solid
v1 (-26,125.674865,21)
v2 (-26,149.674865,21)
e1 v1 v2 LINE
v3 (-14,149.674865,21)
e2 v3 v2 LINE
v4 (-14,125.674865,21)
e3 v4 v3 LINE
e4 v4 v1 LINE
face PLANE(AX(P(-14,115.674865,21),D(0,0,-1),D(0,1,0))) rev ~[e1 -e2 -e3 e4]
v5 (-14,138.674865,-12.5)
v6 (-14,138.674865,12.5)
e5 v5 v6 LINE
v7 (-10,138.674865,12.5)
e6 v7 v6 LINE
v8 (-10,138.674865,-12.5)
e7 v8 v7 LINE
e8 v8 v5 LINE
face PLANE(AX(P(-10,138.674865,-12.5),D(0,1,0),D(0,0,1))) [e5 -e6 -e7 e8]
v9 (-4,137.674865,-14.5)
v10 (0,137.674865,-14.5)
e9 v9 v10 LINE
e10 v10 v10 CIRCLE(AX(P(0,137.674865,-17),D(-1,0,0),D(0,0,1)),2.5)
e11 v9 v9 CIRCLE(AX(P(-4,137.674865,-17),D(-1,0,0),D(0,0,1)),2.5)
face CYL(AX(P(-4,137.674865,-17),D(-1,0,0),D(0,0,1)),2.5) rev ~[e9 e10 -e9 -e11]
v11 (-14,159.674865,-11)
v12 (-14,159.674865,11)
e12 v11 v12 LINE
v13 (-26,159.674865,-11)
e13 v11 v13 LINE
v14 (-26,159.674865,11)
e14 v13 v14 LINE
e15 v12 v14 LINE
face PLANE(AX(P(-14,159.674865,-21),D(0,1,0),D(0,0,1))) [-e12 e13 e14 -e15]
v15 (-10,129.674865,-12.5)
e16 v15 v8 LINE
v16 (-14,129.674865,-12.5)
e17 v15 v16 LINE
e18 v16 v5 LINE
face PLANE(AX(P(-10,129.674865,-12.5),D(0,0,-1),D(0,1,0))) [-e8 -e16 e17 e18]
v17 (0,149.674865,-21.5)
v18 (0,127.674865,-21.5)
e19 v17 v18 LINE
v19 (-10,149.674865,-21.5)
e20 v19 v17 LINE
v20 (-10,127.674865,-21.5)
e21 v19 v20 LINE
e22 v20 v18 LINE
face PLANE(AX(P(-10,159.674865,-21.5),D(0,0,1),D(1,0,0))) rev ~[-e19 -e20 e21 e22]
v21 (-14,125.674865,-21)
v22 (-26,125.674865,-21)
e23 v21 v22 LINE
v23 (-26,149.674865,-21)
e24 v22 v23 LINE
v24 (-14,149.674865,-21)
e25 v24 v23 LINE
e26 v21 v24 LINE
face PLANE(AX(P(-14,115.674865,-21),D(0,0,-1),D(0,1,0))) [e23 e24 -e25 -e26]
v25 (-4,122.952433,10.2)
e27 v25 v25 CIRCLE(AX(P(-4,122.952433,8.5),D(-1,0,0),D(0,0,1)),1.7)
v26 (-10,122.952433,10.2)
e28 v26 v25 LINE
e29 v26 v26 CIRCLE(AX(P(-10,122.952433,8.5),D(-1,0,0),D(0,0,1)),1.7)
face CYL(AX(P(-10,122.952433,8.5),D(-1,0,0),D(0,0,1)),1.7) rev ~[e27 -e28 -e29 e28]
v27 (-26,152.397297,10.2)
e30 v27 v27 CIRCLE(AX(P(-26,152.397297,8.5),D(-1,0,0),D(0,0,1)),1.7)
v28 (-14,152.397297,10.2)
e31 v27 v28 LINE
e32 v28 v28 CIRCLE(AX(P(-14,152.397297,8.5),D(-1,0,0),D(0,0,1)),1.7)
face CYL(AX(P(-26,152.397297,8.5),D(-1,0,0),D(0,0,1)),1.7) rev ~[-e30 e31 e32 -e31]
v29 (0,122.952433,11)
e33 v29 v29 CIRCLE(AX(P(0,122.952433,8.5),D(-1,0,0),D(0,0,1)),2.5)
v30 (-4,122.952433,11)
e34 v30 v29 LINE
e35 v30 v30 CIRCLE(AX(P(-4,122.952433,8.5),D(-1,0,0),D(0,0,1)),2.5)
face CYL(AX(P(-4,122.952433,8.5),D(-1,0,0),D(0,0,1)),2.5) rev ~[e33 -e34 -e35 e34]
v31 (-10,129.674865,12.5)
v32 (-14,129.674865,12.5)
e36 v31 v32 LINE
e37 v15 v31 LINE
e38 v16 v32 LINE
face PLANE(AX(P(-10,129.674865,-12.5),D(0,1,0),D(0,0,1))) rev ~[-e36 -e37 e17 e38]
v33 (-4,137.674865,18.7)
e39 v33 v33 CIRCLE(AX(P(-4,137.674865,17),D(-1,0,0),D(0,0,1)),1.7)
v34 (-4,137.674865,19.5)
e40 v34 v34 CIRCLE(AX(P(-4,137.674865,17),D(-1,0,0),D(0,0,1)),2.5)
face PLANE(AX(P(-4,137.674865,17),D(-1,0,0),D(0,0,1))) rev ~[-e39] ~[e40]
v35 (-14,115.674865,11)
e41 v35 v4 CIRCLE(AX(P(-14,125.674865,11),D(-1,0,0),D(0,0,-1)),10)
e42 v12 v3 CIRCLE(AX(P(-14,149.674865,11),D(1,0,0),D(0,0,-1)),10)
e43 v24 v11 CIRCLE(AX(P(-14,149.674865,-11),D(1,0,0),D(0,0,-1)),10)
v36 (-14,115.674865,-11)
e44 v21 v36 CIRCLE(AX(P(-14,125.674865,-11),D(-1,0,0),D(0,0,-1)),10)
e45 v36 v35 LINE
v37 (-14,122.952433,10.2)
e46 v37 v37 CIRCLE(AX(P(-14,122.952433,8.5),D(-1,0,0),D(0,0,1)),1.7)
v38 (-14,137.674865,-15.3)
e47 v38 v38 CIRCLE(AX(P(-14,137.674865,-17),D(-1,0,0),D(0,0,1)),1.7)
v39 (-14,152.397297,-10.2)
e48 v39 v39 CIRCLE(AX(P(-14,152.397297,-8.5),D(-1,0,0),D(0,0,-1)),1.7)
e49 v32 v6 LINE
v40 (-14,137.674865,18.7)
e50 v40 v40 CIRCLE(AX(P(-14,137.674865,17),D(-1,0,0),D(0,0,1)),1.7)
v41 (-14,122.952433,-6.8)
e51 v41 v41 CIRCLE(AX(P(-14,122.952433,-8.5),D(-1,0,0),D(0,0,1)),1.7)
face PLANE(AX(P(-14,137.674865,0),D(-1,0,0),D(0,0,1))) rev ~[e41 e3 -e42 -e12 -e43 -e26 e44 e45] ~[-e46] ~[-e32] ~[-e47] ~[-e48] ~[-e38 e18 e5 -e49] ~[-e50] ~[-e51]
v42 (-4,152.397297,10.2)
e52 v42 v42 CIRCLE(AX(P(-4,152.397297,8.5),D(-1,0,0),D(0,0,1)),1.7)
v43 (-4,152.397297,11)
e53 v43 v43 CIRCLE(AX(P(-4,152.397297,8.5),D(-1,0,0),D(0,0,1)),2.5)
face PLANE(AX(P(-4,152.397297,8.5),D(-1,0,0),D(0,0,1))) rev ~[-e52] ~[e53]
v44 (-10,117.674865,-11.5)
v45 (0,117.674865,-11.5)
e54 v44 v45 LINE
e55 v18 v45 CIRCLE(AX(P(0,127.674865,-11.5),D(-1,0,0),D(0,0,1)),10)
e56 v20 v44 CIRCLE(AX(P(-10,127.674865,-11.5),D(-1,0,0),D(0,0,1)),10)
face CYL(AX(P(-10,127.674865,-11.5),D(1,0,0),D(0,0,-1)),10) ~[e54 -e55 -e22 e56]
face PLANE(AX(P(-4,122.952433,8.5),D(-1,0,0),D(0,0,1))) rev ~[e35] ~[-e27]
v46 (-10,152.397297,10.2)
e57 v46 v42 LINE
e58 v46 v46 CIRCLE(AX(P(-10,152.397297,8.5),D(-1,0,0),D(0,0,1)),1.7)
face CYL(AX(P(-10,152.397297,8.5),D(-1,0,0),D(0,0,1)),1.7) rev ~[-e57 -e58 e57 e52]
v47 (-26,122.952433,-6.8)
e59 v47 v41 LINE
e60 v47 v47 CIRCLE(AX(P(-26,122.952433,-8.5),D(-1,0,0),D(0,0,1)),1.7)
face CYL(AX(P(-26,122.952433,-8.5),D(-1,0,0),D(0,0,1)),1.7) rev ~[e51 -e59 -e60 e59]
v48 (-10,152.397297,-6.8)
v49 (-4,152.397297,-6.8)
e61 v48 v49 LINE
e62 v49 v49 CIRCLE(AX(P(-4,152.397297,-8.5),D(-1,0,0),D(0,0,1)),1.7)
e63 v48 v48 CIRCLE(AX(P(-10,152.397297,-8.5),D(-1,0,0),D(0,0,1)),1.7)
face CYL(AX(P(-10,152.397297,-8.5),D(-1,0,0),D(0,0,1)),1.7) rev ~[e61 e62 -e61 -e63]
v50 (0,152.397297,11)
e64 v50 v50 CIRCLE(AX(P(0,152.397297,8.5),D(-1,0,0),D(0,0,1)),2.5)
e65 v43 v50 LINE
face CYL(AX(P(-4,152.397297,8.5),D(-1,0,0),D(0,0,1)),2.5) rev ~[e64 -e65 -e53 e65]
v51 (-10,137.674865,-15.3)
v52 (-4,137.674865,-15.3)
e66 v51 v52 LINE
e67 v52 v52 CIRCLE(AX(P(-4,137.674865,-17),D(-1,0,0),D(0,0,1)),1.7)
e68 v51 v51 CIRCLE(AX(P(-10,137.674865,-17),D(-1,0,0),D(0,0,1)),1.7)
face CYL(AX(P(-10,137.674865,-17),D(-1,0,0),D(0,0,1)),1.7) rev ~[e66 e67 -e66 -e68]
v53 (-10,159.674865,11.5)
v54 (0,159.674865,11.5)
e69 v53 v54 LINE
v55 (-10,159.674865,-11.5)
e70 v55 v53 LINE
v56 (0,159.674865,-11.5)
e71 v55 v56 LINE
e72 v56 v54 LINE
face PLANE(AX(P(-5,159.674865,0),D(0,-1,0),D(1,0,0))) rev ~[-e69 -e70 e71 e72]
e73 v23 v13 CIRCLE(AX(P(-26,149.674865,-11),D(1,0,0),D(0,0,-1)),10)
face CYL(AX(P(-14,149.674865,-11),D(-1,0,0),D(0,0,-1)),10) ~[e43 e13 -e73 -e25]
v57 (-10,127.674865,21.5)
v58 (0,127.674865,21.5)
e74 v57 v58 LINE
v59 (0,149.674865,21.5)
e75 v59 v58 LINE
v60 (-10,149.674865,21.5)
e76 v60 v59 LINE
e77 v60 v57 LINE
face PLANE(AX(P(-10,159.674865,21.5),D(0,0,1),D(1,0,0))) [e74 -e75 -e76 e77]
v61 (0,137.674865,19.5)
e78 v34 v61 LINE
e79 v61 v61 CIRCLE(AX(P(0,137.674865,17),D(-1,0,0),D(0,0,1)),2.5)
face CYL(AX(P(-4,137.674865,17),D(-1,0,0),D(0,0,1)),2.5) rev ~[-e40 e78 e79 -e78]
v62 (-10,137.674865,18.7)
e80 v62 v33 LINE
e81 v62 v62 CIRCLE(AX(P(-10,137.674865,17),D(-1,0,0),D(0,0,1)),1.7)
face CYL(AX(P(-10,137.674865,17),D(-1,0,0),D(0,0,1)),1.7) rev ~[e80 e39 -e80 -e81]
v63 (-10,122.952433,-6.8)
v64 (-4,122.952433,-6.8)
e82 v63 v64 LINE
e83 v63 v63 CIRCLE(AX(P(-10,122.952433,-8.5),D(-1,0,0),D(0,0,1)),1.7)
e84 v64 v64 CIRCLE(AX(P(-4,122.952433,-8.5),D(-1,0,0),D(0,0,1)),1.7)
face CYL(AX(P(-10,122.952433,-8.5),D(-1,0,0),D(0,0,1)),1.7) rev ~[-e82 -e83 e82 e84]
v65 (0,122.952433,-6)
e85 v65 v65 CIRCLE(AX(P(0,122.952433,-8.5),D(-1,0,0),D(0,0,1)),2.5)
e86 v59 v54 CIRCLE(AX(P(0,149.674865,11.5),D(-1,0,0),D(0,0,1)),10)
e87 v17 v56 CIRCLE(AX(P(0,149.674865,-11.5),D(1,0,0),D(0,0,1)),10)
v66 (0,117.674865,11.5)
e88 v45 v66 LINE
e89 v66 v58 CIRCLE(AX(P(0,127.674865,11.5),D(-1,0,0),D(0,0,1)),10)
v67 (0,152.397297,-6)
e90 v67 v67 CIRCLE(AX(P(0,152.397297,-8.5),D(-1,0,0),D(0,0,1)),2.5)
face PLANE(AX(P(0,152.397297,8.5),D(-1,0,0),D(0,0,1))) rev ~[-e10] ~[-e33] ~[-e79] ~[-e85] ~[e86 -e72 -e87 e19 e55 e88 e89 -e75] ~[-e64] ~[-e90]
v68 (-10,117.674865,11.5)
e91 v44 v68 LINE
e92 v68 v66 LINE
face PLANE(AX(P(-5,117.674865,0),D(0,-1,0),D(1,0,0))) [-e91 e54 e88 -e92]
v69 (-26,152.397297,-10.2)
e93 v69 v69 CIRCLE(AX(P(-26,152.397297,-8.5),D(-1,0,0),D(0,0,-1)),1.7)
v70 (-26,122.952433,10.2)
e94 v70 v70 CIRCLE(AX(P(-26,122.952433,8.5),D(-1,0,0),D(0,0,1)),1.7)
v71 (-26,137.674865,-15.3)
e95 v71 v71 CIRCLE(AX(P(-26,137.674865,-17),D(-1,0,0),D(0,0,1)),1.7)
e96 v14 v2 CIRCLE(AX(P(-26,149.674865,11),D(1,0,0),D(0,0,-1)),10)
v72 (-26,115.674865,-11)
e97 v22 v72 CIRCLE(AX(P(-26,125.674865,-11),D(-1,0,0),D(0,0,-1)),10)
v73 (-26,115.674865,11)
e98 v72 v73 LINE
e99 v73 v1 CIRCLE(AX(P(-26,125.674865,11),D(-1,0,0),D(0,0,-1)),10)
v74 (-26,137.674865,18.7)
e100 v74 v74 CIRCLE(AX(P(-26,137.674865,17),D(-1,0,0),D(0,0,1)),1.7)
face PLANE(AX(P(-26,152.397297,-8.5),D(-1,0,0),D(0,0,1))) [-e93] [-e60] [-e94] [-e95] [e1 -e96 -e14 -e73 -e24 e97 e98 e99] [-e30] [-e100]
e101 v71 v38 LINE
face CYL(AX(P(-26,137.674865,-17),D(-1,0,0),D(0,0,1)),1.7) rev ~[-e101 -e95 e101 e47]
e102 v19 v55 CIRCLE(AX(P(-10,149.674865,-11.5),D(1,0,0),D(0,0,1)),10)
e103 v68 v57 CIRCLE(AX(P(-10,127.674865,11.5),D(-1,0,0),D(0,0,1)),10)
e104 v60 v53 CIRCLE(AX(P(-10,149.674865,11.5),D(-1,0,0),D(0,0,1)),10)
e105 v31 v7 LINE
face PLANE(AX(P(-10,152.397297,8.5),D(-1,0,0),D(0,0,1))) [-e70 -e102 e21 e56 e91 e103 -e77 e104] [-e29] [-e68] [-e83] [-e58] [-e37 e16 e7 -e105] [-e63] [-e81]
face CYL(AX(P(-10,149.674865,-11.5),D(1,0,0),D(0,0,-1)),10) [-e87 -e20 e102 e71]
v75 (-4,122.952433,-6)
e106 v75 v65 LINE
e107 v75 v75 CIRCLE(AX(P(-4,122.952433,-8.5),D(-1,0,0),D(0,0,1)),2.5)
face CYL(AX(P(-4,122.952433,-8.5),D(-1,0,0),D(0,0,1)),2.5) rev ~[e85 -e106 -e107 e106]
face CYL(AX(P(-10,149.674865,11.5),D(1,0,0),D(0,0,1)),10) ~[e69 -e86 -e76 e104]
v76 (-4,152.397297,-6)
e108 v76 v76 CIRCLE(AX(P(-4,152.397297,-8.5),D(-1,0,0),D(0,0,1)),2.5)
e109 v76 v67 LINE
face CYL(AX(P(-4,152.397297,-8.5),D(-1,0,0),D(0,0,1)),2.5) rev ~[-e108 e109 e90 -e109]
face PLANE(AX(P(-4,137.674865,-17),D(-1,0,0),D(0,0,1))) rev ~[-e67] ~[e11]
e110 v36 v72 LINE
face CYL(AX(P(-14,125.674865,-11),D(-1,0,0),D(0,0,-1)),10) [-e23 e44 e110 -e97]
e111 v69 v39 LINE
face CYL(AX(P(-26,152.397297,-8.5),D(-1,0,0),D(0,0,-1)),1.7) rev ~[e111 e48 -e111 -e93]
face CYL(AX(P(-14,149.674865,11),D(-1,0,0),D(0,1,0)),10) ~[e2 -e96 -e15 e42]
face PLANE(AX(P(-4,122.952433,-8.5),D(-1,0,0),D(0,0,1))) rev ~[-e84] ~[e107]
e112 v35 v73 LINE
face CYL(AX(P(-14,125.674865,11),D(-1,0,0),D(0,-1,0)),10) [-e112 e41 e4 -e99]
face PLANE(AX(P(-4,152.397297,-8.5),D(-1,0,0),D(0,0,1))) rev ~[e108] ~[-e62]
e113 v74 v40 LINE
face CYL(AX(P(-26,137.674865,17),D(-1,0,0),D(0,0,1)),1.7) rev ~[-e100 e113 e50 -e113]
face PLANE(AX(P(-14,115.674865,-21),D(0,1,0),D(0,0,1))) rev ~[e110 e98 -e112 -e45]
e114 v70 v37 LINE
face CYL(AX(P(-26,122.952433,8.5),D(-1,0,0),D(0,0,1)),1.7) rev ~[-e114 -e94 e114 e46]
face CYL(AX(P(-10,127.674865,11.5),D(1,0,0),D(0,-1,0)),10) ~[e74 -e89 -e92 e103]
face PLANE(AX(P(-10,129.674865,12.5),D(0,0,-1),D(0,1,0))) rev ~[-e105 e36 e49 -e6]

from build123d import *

# Parameters (mm, degrees)
SKETCH2_W           = 10
SKETCH2_H           = 43
BOSS_EXTRUDE1_DEPTH = 42
SKETCH3_W           = 25
SKETCH3_H           = 9
BOSS_EXTRUDE2_DEPTH = 4
SKETCH5_W           = 42
SKETCH5_H           = 44
SKETCH5_R           = 3
BOSS_EXTRUDE3_DEPTH = 12
SKETCH5_3_R         = 3
SKETCH5_3_R_2       = 2.5
SKETCH5_3_R_3       = 1.7
CUT_EXTRUDE1_DEPTH  = 20
BOSS_EXTRUDE4_START = -4
SKETCH5_12_R        = 3
SKETCH5_12_R_2      = 2.5
SKETCH5_12_R_3      = 1.7
BOSS_EXTRUDE4_DEPTH = 6
BOSS_EXTRUDE5_START = -10
SKETCH5_13_R        = 3
SKETCH5_13_R_2      = 2.5
BOSS_EXTRUDE5_DEPTH = 4
BOSS_EXTRUDE6_START = 12
SKETCH5_15_R        = 3
SKETCH5_15_R_2      = 2.5
SKETCH5_15_R_3      = 1.7
BOSS_EXTRUDE6_DEPTH = 12
FILLET1_R           = 10


with BuildPart() as part:
    # Sketch2 → Boss-Extrude1 (new body)
    with BuildSketch(Plane.XZ.offset(-159.674864957)):
        with Locations((-5, 0)):
            Rectangle(SKETCH2_W, SKETCH2_H)
    extrude(amount=BOSS_EXTRUDE1_DEPTH)

    # Sketch3 → Boss-Extrude2 (add)
    with BuildSketch(Plane.ZY.offset(10)):
        with Locations((0, 134.174864957)):
            Rectangle(SKETCH3_W, SKETCH3_H)
    extrude(amount=BOSS_EXTRUDE2_DEPTH)

    # Sketch5<3> → Cut-Extrude1 (cut)
    # profile 1 of 18: a face of its own
    with BuildSketch(Plane.ZY.offset(14)):
        with Locations((-8.5, 152.397296821)):
            Circle(SKETCH5_3_R)
        with Locations((-8.5, 152.397296821)):
            Circle(SKETCH5_3_R_2, mode=Mode.SUBTRACT)
    # profile 2 of 18: a face of its own
    with BuildSketch(Plane.ZY.offset(14)):
        with Locations((-8.5, 152.397296821)):
            Circle(SKETCH5_3_R_2)
        with Locations((-8.5, 152.397296821)):
            Circle(SKETCH5_3_R_3, mode=Mode.SUBTRACT)
    # profile 3 of 18: a face of its own
    with BuildSketch(Plane.ZY.offset(14)):
        with Locations((-8.5, 152.397296821)):
            Circle(SKETCH5_3_R_3)
    # profile 4 of 18: a face of its own
    with BuildSketch(Plane.ZY.offset(14)):
        with Locations((8.5, 152.397296821)):
            Circle(SKETCH5_3_R)
        with Locations((8.5, 152.397296821)):
            Circle(SKETCH5_3_R_2, mode=Mode.SUBTRACT)
    # profile 5 of 18: a face of its own
    with BuildSketch(Plane.ZY.offset(14)):
        with Locations((8.5, 152.397296821)):
            Circle(SKETCH5_3_R_2)
        with Locations((8.5, 152.397296821)):
            Circle(SKETCH5_3_R_3, mode=Mode.SUBTRACT)
    # profile 6 of 18: a face of its own
    with BuildSketch(Plane.ZY.offset(14)):
        with Locations((8.5, 152.397296821)):
            Circle(SKETCH5_3_R_3)
    # profile 7 of 18: a face of its own
    with BuildSketch(Plane.ZY.offset(14)):
        with Locations((17, 137.674864957)):
            Circle(SKETCH5_3_R)
        with Locations((17, 137.674864957)):
            Circle(SKETCH5_3_R_2, mode=Mode.SUBTRACT)
    # profile 8 of 18: a face of its own
    with BuildSketch(Plane.ZY.offset(14)):
        with Locations((17, 137.674864957)):
            Circle(SKETCH5_3_R_2)
        with Locations((17, 137.674864957)):
            Circle(SKETCH5_3_R_3, mode=Mode.SUBTRACT)
    # profile 9 of 18: a face of its own
    with BuildSketch(Plane.ZY.offset(14)):
        with Locations((17, 137.674864957)):
            Circle(SKETCH5_3_R_3)
    # profile 10 of 18: a face of its own
    with BuildSketch(Plane.ZY.offset(14)):
        with Locations((-17, 137.674864957)):
            Circle(SKETCH5_3_R)
        with Locations((-17, 137.674864957)):
            Circle(SKETCH5_3_R_2, mode=Mode.SUBTRACT)
    # profile 11 of 18: a face of its own
    with BuildSketch(Plane.ZY.offset(14)):
        with Locations((-17, 137.674864957)):
            Circle(SKETCH5_3_R_2)
        with Locations((-17, 137.674864957)):
            Circle(SKETCH5_3_R_3, mode=Mode.SUBTRACT)
    # profile 12 of 18: a face of its own
    with BuildSketch(Plane.ZY.offset(14)):
        with Locations((-17, 137.674864957)):
            Circle(SKETCH5_3_R_3)
    # profile 13 of 18: a face of its own
    with BuildSketch(Plane.ZY.offset(14)):
        with Locations((-8.5, 122.952433093)):
            Circle(SKETCH5_3_R)
        with Locations((-8.5, 122.952433093)):
            Circle(SKETCH5_3_R_2, mode=Mode.SUBTRACT)
    # profile 14 of 18: a face of its own
    with BuildSketch(Plane.ZY.offset(14)):
        with Locations((-8.5, 122.952433093)):
            Circle(SKETCH5_3_R_2)
        with Locations((-8.5, 122.952433093)):
            Circle(SKETCH5_3_R_3, mode=Mode.SUBTRACT)
    # profile 15 of 18: a face of its own
    with BuildSketch(Plane.ZY.offset(14)):
        with Locations((-8.5, 122.952433093)):
            Circle(SKETCH5_3_R_3)
    # profile 16 of 18: a face of its own
    with BuildSketch(Plane.ZY.offset(14)):
        with Locations((8.5, 122.952433093)):
            Circle(SKETCH5_3_R)
        with Locations((8.5, 122.952433093)):
            Circle(SKETCH5_3_R_2, mode=Mode.SUBTRACT)
    # profile 17 of 18: a face of its own
    with BuildSketch(Plane.ZY.offset(14)):
        with Locations((8.5, 122.952433093)):
            Circle(SKETCH5_3_R_2)
        with Locations((8.5, 122.952433093)):
            Circle(SKETCH5_3_R_3, mode=Mode.SUBTRACT)
    # profile 18 of 18: a face of its own
    with BuildSketch(Plane.ZY.offset(14)):
        with Locations((8.5, 122.952433093)):
            Circle(SKETCH5_3_R_3)
    extrude(amount=-CUT_EXTRUDE1_DEPTH, mode=Mode.SUBTRACT)

    # Sketch5<12> → Boss-Extrude4 (add)
    # profile 1 of 12: a face of its own
    with BuildSketch(Plane.ZY.offset(14).offset(BOSS_EXTRUDE4_START)):
        with Locations((8.5, 152.397296821)):
            Circle(SKETCH5_12_R)
        with Locations((8.5, 152.397296821)):
            Circle(SKETCH5_12_R_2, mode=Mode.SUBTRACT)
    # profile 2 of 12: a face of its own
    with BuildSketch(Plane.ZY.offset(14).offset(BOSS_EXTRUDE4_START)):
        with Locations((-8.5, 152.397296821)):
            Circle(SKETCH5_12_R)
        with Locations((-8.5, 152.397296821)):
            Circle(SKETCH5_12_R_2, mode=Mode.SUBTRACT)
    # profile 3 of 12: a face of its own
    with BuildSketch(Plane.ZY.offset(14).offset(BOSS_EXTRUDE4_START)):
        with Locations((17, 137.674864957)):
            Circle(SKETCH5_12_R)
        with Locations((17, 137.674864957)):
            Circle(SKETCH5_12_R_2, mode=Mode.SUBTRACT)
    # profile 4 of 12: a face of its own
    with BuildSketch(Plane.ZY.offset(14).offset(BOSS_EXTRUDE4_START)):
        with Locations((8.5, 122.952433093)):
            Circle(SKETCH5_12_R)
        with Locations((8.5, 122.952433093)):
            Circle(SKETCH5_12_R_2, mode=Mode.SUBTRACT)
    # profile 5 of 12: a face of its own
    with BuildSketch(Plane.ZY.offset(14).offset(BOSS_EXTRUDE4_START)):
        with Locations((-8.5, 122.952433093)):
            Circle(SKETCH5_12_R)
        with Locations((-8.5, 122.952433093)):
            Circle(SKETCH5_12_R_2, mode=Mode.SUBTRACT)
    # profile 6 of 12: a face of its own
    with BuildSketch(Plane.ZY.offset(14).offset(BOSS_EXTRUDE4_START)):
        with Locations((-17, 137.674864957)):
            Circle(SKETCH5_12_R)
        with Locations((-17, 137.674864957)):
            Circle(SKETCH5_12_R_2, mode=Mode.SUBTRACT)
    # profile 7 of 12: a face of its own
    with BuildSketch(Plane.ZY.offset(14).offset(BOSS_EXTRUDE4_START)):
        with Locations((8.5, 152.397296821)):
            Circle(SKETCH5_12_R_2)
        with Locations((8.5, 152.397296821)):
            Circle(SKETCH5_12_R_3, mode=Mode.SUBTRACT)
    # profile 8 of 12: a face of its own
    with BuildSketch(Plane.ZY.offset(14).offset(BOSS_EXTRUDE4_START)):
        with Locations((17, 137.674864957)):
            Circle(SKETCH5_12_R_2)
        with Locations((17, 137.674864957)):
            Circle(SKETCH5_12_R_3, mode=Mode.SUBTRACT)
    # profile 9 of 12: a face of its own
    with BuildSketch(Plane.ZY.offset(14).offset(BOSS_EXTRUDE4_START)):
        with Locations((8.5, 122.952433093)):
            Circle(SKETCH5_12_R_2)
        with Locations((8.5, 122.952433093)):
            Circle(SKETCH5_12_R_3, mode=Mode.SUBTRACT)
    # profile 10 of 12: a face of its own
    with BuildSketch(Plane.ZY.offset(14).offset(BOSS_EXTRUDE4_START)):
        with Locations((-8.5, 122.952433093)):
            Circle(SKETCH5_12_R_2)
        with Locations((-8.5, 122.952433093)):
            Circle(SKETCH5_12_R_3, mode=Mode.SUBTRACT)
    # profile 11 of 12: a face of its own
    with BuildSketch(Plane.ZY.offset(14).offset(BOSS_EXTRUDE4_START)):
        with Locations((-17, 137.674864957)):
            Circle(SKETCH5_12_R_2)
        with Locations((-17, 137.674864957)):
            Circle(SKETCH5_12_R_3, mode=Mode.SUBTRACT)
    # profile 12 of 12: a face of its own
    with BuildSketch(Plane.ZY.offset(14).offset(BOSS_EXTRUDE4_START)):
        with Locations((-8.5, 152.397296821)):
            Circle(SKETCH5_12_R_2)
        with Locations((-8.5, 152.397296821)):
            Circle(SKETCH5_12_R_3, mode=Mode.SUBTRACT)
    extrude(amount=-BOSS_EXTRUDE4_DEPTH)

    # Sketch5<13> → Boss-Extrude5 (add)
    # profile 1 of 6: a face of its own
    with BuildSketch(Plane.ZY.offset(14).offset(BOSS_EXTRUDE5_START)):
        with Locations((8.5, 152.397296821)):
            Circle(SKETCH5_13_R)
        with Locations((8.5, 152.397296821)):
            Circle(SKETCH5_13_R_2, mode=Mode.SUBTRACT)
    # profile 2 of 6: a face of its own
    with BuildSketch(Plane.ZY.offset(14).offset(BOSS_EXTRUDE5_START)):
        with Locations((-8.5, 152.397296821)):
            Circle(SKETCH5_13_R)
        with Locations((-8.5, 152.397296821)):
            Circle(SKETCH5_13_R_2, mode=Mode.SUBTRACT)
    # profile 3 of 6: a face of its own
    with BuildSketch(Plane.ZY.offset(14).offset(BOSS_EXTRUDE5_START)):
        with Locations((-17, 137.674864957)):
            Circle(SKETCH5_13_R)
        with Locations((-17, 137.674864957)):
            Circle(SKETCH5_13_R_2, mode=Mode.SUBTRACT)
    # profile 4 of 6: a face of its own
    with BuildSketch(Plane.ZY.offset(14).offset(BOSS_EXTRUDE5_START)):
        with Locations((-8.5, 122.952433093)):
            Circle(SKETCH5_13_R)
        with Locations((-8.5, 122.952433093)):
            Circle(SKETCH5_13_R_2, mode=Mode.SUBTRACT)
    # profile 5 of 6: a face of its own
    with BuildSketch(Plane.ZY.offset(14).offset(BOSS_EXTRUDE5_START)):
        with Locations((8.5, 122.952433093)):
            Circle(SKETCH5_13_R)
        with Locations((8.5, 122.952433093)):
            Circle(SKETCH5_13_R_2, mode=Mode.SUBTRACT)
    # profile 6 of 6: a face of its own
    with BuildSketch(Plane.ZY.offset(14).offset(BOSS_EXTRUDE5_START)):
        with Locations((17, 137.674864957)):
            Circle(SKETCH5_13_R)
        with Locations((17, 137.674864957)):
            Circle(SKETCH5_13_R_2, mode=Mode.SUBTRACT)
    extrude(amount=-BOSS_EXTRUDE5_DEPTH)


with BuildPart() as body_2:
    # Sketch5 → Boss-Extrude3 (new body)
    with BuildSketch(Plane.ZY.offset(14)):
        with Locations((0, 137.674864957)):
            Rectangle(SKETCH5_W, SKETCH5_H)
        with Locations((17, 137.674864957)):
            Circle(SKETCH5_R, mode=Mode.SUBTRACT)
        with Locations((8.5, 122.952433093)):
            Circle(SKETCH5_R, mode=Mode.SUBTRACT)
        with Locations((-8.5, 122.952433093)):
            Circle(SKETCH5_R, mode=Mode.SUBTRACT)
        with Locations((-17, 137.674864957)):
            Circle(SKETCH5_R, mode=Mode.SUBTRACT)
        with Locations((-8.5, 152.397296821)):
            Circle(SKETCH5_R, mode=Mode.SUBTRACT)
        with Locations((8.5, 152.397296821)):
            Circle(SKETCH5_R, mode=Mode.SUBTRACT)
    extrude(amount=BOSS_EXTRUDE3_DEPTH)


    add(part.part)  # Boss-Extrude6 merges part
    # Sketch5<15> → Boss-Extrude6 (add)
    # profile 1 of 12: a face of its own
    with BuildSketch(Plane.ZY.offset(14).offset(BOSS_EXTRUDE6_START)):
        with Locations((-8.5, 152.397296821)):
            Circle(SKETCH5_15_R)
        with Locations((-8.5, 152.397296821)):
            Circle(SKETCH5_15_R_2, mode=Mode.SUBTRACT)
    # profile 2 of 12: a face of its own
    with BuildSketch(Plane.ZY.offset(14).offset(BOSS_EXTRUDE6_START)):
        with Locations((-8.5, 152.397296821)):
            Circle(SKETCH5_15_R_2)
        with Locations(Location((-8.5, 152.397296821, 0), (0, 0, 180))):
            Circle(SKETCH5_15_R_3, mode=Mode.SUBTRACT)
    # profile 3 of 12: a face of its own
    with BuildSketch(Plane.ZY.offset(14).offset(BOSS_EXTRUDE6_START)):
        with Locations((-17, 137.674864957)):
            Circle(SKETCH5_15_R)
        with Locations((-17, 137.674864957)):
            Circle(SKETCH5_15_R_2, mode=Mode.SUBTRACT)
    # profile 4 of 12: a face of its own
    with BuildSketch(Plane.ZY.offset(14).offset(BOSS_EXTRUDE6_START)):
        with Locations((-17, 137.674864957)):
            Circle(SKETCH5_15_R_2)
        with Locations((-17, 137.674864957)):
            Circle(SKETCH5_15_R_3, mode=Mode.SUBTRACT)
    # profile 5 of 12: a face of its own
    with BuildSketch(Plane.ZY.offset(14).offset(BOSS_EXTRUDE6_START)):
        with Locations((-8.5, 122.952433093)):
            Circle(SKETCH5_15_R)
        with Locations((-8.5, 122.952433093)):
            Circle(SKETCH5_15_R_2, mode=Mode.SUBTRACT)
    # profile 6 of 12: a face of its own
    with BuildSketch(Plane.ZY.offset(14).offset(BOSS_EXTRUDE6_START)):
        with Locations((-8.5, 122.952433093)):
            Circle(SKETCH5_15_R_2)
        with Locations((-8.5, 122.952433093)):
            Circle(SKETCH5_15_R_3, mode=Mode.SUBTRACT)
    # profile 7 of 12: a face of its own
    with BuildSketch(Plane.ZY.offset(14).offset(BOSS_EXTRUDE6_START)):
        with Locations((8.5, 122.952433093)):
            Circle(SKETCH5_15_R)
        with Locations((8.5, 122.952433093)):
            Circle(SKETCH5_15_R_2, mode=Mode.SUBTRACT)
    # profile 8 of 12: a face of its own
    with BuildSketch(Plane.ZY.offset(14).offset(BOSS_EXTRUDE6_START)):
        with Locations((8.5, 122.952433093)):
            Circle(SKETCH5_15_R_2)
        with Locations((8.5, 122.952433093)):
            Circle(SKETCH5_15_R_3, mode=Mode.SUBTRACT)
    # profile 9 of 12: a face of its own
    with BuildSketch(Plane.ZY.offset(14).offset(BOSS_EXTRUDE6_START)):
        with Locations((8.5, 152.397296821)):
            Circle(SKETCH5_15_R)
        with Locations((8.5, 152.397296821)):
            Circle(SKETCH5_15_R_2, mode=Mode.SUBTRACT)
    # profile 10 of 12: a face of its own
    with BuildSketch(Plane.ZY.offset(14).offset(BOSS_EXTRUDE6_START)):
        with Locations((8.5, 152.397296821)):
            Circle(SKETCH5_15_R_2)
        with Locations((8.5, 152.397296821)):
            Circle(SKETCH5_15_R_3, mode=Mode.SUBTRACT)
    # profile 11 of 12: a face of its own
    with BuildSketch(Plane.ZY.offset(14).offset(BOSS_EXTRUDE6_START)):
        with Locations((17, 137.674864957)):
            Circle(SKETCH5_15_R)
        with Locations((17, 137.674864957)):
            Circle(SKETCH5_15_R_2, mode=Mode.SUBTRACT)
    # profile 12 of 12: a face of its own
    with BuildSketch(Plane.ZY.offset(14).offset(BOSS_EXTRUDE6_START)):
        with Locations((17, 137.674864957)):
            Circle(SKETCH5_15_R_2)
        with Locations((17, 137.674864957)):
            Circle(SKETCH5_15_R_3, mode=Mode.SUBTRACT)
    extrude(amount=-BOSS_EXTRUDE6_DEPTH)

    # Fillet1
    fillet1_edges = [body_2.edges().sort_by_distance(p)[0] for p in [
        (-20, 159.674864957, 21),
        (-20, 115.674864957, 21),
        (-20, 115.674864957, -21),
        (-20, 159.674864957, -21),
        (-5, 159.674864957, 21.5),
        (-5, 159.674864957, -21.5),
        (-5, 117.674864957, 21.5),
        (-5, 117.674864957, -21.5),
    ]]
    fillet(fillet1_edges, radius=FILLET1_R)


solid = body_2.part
